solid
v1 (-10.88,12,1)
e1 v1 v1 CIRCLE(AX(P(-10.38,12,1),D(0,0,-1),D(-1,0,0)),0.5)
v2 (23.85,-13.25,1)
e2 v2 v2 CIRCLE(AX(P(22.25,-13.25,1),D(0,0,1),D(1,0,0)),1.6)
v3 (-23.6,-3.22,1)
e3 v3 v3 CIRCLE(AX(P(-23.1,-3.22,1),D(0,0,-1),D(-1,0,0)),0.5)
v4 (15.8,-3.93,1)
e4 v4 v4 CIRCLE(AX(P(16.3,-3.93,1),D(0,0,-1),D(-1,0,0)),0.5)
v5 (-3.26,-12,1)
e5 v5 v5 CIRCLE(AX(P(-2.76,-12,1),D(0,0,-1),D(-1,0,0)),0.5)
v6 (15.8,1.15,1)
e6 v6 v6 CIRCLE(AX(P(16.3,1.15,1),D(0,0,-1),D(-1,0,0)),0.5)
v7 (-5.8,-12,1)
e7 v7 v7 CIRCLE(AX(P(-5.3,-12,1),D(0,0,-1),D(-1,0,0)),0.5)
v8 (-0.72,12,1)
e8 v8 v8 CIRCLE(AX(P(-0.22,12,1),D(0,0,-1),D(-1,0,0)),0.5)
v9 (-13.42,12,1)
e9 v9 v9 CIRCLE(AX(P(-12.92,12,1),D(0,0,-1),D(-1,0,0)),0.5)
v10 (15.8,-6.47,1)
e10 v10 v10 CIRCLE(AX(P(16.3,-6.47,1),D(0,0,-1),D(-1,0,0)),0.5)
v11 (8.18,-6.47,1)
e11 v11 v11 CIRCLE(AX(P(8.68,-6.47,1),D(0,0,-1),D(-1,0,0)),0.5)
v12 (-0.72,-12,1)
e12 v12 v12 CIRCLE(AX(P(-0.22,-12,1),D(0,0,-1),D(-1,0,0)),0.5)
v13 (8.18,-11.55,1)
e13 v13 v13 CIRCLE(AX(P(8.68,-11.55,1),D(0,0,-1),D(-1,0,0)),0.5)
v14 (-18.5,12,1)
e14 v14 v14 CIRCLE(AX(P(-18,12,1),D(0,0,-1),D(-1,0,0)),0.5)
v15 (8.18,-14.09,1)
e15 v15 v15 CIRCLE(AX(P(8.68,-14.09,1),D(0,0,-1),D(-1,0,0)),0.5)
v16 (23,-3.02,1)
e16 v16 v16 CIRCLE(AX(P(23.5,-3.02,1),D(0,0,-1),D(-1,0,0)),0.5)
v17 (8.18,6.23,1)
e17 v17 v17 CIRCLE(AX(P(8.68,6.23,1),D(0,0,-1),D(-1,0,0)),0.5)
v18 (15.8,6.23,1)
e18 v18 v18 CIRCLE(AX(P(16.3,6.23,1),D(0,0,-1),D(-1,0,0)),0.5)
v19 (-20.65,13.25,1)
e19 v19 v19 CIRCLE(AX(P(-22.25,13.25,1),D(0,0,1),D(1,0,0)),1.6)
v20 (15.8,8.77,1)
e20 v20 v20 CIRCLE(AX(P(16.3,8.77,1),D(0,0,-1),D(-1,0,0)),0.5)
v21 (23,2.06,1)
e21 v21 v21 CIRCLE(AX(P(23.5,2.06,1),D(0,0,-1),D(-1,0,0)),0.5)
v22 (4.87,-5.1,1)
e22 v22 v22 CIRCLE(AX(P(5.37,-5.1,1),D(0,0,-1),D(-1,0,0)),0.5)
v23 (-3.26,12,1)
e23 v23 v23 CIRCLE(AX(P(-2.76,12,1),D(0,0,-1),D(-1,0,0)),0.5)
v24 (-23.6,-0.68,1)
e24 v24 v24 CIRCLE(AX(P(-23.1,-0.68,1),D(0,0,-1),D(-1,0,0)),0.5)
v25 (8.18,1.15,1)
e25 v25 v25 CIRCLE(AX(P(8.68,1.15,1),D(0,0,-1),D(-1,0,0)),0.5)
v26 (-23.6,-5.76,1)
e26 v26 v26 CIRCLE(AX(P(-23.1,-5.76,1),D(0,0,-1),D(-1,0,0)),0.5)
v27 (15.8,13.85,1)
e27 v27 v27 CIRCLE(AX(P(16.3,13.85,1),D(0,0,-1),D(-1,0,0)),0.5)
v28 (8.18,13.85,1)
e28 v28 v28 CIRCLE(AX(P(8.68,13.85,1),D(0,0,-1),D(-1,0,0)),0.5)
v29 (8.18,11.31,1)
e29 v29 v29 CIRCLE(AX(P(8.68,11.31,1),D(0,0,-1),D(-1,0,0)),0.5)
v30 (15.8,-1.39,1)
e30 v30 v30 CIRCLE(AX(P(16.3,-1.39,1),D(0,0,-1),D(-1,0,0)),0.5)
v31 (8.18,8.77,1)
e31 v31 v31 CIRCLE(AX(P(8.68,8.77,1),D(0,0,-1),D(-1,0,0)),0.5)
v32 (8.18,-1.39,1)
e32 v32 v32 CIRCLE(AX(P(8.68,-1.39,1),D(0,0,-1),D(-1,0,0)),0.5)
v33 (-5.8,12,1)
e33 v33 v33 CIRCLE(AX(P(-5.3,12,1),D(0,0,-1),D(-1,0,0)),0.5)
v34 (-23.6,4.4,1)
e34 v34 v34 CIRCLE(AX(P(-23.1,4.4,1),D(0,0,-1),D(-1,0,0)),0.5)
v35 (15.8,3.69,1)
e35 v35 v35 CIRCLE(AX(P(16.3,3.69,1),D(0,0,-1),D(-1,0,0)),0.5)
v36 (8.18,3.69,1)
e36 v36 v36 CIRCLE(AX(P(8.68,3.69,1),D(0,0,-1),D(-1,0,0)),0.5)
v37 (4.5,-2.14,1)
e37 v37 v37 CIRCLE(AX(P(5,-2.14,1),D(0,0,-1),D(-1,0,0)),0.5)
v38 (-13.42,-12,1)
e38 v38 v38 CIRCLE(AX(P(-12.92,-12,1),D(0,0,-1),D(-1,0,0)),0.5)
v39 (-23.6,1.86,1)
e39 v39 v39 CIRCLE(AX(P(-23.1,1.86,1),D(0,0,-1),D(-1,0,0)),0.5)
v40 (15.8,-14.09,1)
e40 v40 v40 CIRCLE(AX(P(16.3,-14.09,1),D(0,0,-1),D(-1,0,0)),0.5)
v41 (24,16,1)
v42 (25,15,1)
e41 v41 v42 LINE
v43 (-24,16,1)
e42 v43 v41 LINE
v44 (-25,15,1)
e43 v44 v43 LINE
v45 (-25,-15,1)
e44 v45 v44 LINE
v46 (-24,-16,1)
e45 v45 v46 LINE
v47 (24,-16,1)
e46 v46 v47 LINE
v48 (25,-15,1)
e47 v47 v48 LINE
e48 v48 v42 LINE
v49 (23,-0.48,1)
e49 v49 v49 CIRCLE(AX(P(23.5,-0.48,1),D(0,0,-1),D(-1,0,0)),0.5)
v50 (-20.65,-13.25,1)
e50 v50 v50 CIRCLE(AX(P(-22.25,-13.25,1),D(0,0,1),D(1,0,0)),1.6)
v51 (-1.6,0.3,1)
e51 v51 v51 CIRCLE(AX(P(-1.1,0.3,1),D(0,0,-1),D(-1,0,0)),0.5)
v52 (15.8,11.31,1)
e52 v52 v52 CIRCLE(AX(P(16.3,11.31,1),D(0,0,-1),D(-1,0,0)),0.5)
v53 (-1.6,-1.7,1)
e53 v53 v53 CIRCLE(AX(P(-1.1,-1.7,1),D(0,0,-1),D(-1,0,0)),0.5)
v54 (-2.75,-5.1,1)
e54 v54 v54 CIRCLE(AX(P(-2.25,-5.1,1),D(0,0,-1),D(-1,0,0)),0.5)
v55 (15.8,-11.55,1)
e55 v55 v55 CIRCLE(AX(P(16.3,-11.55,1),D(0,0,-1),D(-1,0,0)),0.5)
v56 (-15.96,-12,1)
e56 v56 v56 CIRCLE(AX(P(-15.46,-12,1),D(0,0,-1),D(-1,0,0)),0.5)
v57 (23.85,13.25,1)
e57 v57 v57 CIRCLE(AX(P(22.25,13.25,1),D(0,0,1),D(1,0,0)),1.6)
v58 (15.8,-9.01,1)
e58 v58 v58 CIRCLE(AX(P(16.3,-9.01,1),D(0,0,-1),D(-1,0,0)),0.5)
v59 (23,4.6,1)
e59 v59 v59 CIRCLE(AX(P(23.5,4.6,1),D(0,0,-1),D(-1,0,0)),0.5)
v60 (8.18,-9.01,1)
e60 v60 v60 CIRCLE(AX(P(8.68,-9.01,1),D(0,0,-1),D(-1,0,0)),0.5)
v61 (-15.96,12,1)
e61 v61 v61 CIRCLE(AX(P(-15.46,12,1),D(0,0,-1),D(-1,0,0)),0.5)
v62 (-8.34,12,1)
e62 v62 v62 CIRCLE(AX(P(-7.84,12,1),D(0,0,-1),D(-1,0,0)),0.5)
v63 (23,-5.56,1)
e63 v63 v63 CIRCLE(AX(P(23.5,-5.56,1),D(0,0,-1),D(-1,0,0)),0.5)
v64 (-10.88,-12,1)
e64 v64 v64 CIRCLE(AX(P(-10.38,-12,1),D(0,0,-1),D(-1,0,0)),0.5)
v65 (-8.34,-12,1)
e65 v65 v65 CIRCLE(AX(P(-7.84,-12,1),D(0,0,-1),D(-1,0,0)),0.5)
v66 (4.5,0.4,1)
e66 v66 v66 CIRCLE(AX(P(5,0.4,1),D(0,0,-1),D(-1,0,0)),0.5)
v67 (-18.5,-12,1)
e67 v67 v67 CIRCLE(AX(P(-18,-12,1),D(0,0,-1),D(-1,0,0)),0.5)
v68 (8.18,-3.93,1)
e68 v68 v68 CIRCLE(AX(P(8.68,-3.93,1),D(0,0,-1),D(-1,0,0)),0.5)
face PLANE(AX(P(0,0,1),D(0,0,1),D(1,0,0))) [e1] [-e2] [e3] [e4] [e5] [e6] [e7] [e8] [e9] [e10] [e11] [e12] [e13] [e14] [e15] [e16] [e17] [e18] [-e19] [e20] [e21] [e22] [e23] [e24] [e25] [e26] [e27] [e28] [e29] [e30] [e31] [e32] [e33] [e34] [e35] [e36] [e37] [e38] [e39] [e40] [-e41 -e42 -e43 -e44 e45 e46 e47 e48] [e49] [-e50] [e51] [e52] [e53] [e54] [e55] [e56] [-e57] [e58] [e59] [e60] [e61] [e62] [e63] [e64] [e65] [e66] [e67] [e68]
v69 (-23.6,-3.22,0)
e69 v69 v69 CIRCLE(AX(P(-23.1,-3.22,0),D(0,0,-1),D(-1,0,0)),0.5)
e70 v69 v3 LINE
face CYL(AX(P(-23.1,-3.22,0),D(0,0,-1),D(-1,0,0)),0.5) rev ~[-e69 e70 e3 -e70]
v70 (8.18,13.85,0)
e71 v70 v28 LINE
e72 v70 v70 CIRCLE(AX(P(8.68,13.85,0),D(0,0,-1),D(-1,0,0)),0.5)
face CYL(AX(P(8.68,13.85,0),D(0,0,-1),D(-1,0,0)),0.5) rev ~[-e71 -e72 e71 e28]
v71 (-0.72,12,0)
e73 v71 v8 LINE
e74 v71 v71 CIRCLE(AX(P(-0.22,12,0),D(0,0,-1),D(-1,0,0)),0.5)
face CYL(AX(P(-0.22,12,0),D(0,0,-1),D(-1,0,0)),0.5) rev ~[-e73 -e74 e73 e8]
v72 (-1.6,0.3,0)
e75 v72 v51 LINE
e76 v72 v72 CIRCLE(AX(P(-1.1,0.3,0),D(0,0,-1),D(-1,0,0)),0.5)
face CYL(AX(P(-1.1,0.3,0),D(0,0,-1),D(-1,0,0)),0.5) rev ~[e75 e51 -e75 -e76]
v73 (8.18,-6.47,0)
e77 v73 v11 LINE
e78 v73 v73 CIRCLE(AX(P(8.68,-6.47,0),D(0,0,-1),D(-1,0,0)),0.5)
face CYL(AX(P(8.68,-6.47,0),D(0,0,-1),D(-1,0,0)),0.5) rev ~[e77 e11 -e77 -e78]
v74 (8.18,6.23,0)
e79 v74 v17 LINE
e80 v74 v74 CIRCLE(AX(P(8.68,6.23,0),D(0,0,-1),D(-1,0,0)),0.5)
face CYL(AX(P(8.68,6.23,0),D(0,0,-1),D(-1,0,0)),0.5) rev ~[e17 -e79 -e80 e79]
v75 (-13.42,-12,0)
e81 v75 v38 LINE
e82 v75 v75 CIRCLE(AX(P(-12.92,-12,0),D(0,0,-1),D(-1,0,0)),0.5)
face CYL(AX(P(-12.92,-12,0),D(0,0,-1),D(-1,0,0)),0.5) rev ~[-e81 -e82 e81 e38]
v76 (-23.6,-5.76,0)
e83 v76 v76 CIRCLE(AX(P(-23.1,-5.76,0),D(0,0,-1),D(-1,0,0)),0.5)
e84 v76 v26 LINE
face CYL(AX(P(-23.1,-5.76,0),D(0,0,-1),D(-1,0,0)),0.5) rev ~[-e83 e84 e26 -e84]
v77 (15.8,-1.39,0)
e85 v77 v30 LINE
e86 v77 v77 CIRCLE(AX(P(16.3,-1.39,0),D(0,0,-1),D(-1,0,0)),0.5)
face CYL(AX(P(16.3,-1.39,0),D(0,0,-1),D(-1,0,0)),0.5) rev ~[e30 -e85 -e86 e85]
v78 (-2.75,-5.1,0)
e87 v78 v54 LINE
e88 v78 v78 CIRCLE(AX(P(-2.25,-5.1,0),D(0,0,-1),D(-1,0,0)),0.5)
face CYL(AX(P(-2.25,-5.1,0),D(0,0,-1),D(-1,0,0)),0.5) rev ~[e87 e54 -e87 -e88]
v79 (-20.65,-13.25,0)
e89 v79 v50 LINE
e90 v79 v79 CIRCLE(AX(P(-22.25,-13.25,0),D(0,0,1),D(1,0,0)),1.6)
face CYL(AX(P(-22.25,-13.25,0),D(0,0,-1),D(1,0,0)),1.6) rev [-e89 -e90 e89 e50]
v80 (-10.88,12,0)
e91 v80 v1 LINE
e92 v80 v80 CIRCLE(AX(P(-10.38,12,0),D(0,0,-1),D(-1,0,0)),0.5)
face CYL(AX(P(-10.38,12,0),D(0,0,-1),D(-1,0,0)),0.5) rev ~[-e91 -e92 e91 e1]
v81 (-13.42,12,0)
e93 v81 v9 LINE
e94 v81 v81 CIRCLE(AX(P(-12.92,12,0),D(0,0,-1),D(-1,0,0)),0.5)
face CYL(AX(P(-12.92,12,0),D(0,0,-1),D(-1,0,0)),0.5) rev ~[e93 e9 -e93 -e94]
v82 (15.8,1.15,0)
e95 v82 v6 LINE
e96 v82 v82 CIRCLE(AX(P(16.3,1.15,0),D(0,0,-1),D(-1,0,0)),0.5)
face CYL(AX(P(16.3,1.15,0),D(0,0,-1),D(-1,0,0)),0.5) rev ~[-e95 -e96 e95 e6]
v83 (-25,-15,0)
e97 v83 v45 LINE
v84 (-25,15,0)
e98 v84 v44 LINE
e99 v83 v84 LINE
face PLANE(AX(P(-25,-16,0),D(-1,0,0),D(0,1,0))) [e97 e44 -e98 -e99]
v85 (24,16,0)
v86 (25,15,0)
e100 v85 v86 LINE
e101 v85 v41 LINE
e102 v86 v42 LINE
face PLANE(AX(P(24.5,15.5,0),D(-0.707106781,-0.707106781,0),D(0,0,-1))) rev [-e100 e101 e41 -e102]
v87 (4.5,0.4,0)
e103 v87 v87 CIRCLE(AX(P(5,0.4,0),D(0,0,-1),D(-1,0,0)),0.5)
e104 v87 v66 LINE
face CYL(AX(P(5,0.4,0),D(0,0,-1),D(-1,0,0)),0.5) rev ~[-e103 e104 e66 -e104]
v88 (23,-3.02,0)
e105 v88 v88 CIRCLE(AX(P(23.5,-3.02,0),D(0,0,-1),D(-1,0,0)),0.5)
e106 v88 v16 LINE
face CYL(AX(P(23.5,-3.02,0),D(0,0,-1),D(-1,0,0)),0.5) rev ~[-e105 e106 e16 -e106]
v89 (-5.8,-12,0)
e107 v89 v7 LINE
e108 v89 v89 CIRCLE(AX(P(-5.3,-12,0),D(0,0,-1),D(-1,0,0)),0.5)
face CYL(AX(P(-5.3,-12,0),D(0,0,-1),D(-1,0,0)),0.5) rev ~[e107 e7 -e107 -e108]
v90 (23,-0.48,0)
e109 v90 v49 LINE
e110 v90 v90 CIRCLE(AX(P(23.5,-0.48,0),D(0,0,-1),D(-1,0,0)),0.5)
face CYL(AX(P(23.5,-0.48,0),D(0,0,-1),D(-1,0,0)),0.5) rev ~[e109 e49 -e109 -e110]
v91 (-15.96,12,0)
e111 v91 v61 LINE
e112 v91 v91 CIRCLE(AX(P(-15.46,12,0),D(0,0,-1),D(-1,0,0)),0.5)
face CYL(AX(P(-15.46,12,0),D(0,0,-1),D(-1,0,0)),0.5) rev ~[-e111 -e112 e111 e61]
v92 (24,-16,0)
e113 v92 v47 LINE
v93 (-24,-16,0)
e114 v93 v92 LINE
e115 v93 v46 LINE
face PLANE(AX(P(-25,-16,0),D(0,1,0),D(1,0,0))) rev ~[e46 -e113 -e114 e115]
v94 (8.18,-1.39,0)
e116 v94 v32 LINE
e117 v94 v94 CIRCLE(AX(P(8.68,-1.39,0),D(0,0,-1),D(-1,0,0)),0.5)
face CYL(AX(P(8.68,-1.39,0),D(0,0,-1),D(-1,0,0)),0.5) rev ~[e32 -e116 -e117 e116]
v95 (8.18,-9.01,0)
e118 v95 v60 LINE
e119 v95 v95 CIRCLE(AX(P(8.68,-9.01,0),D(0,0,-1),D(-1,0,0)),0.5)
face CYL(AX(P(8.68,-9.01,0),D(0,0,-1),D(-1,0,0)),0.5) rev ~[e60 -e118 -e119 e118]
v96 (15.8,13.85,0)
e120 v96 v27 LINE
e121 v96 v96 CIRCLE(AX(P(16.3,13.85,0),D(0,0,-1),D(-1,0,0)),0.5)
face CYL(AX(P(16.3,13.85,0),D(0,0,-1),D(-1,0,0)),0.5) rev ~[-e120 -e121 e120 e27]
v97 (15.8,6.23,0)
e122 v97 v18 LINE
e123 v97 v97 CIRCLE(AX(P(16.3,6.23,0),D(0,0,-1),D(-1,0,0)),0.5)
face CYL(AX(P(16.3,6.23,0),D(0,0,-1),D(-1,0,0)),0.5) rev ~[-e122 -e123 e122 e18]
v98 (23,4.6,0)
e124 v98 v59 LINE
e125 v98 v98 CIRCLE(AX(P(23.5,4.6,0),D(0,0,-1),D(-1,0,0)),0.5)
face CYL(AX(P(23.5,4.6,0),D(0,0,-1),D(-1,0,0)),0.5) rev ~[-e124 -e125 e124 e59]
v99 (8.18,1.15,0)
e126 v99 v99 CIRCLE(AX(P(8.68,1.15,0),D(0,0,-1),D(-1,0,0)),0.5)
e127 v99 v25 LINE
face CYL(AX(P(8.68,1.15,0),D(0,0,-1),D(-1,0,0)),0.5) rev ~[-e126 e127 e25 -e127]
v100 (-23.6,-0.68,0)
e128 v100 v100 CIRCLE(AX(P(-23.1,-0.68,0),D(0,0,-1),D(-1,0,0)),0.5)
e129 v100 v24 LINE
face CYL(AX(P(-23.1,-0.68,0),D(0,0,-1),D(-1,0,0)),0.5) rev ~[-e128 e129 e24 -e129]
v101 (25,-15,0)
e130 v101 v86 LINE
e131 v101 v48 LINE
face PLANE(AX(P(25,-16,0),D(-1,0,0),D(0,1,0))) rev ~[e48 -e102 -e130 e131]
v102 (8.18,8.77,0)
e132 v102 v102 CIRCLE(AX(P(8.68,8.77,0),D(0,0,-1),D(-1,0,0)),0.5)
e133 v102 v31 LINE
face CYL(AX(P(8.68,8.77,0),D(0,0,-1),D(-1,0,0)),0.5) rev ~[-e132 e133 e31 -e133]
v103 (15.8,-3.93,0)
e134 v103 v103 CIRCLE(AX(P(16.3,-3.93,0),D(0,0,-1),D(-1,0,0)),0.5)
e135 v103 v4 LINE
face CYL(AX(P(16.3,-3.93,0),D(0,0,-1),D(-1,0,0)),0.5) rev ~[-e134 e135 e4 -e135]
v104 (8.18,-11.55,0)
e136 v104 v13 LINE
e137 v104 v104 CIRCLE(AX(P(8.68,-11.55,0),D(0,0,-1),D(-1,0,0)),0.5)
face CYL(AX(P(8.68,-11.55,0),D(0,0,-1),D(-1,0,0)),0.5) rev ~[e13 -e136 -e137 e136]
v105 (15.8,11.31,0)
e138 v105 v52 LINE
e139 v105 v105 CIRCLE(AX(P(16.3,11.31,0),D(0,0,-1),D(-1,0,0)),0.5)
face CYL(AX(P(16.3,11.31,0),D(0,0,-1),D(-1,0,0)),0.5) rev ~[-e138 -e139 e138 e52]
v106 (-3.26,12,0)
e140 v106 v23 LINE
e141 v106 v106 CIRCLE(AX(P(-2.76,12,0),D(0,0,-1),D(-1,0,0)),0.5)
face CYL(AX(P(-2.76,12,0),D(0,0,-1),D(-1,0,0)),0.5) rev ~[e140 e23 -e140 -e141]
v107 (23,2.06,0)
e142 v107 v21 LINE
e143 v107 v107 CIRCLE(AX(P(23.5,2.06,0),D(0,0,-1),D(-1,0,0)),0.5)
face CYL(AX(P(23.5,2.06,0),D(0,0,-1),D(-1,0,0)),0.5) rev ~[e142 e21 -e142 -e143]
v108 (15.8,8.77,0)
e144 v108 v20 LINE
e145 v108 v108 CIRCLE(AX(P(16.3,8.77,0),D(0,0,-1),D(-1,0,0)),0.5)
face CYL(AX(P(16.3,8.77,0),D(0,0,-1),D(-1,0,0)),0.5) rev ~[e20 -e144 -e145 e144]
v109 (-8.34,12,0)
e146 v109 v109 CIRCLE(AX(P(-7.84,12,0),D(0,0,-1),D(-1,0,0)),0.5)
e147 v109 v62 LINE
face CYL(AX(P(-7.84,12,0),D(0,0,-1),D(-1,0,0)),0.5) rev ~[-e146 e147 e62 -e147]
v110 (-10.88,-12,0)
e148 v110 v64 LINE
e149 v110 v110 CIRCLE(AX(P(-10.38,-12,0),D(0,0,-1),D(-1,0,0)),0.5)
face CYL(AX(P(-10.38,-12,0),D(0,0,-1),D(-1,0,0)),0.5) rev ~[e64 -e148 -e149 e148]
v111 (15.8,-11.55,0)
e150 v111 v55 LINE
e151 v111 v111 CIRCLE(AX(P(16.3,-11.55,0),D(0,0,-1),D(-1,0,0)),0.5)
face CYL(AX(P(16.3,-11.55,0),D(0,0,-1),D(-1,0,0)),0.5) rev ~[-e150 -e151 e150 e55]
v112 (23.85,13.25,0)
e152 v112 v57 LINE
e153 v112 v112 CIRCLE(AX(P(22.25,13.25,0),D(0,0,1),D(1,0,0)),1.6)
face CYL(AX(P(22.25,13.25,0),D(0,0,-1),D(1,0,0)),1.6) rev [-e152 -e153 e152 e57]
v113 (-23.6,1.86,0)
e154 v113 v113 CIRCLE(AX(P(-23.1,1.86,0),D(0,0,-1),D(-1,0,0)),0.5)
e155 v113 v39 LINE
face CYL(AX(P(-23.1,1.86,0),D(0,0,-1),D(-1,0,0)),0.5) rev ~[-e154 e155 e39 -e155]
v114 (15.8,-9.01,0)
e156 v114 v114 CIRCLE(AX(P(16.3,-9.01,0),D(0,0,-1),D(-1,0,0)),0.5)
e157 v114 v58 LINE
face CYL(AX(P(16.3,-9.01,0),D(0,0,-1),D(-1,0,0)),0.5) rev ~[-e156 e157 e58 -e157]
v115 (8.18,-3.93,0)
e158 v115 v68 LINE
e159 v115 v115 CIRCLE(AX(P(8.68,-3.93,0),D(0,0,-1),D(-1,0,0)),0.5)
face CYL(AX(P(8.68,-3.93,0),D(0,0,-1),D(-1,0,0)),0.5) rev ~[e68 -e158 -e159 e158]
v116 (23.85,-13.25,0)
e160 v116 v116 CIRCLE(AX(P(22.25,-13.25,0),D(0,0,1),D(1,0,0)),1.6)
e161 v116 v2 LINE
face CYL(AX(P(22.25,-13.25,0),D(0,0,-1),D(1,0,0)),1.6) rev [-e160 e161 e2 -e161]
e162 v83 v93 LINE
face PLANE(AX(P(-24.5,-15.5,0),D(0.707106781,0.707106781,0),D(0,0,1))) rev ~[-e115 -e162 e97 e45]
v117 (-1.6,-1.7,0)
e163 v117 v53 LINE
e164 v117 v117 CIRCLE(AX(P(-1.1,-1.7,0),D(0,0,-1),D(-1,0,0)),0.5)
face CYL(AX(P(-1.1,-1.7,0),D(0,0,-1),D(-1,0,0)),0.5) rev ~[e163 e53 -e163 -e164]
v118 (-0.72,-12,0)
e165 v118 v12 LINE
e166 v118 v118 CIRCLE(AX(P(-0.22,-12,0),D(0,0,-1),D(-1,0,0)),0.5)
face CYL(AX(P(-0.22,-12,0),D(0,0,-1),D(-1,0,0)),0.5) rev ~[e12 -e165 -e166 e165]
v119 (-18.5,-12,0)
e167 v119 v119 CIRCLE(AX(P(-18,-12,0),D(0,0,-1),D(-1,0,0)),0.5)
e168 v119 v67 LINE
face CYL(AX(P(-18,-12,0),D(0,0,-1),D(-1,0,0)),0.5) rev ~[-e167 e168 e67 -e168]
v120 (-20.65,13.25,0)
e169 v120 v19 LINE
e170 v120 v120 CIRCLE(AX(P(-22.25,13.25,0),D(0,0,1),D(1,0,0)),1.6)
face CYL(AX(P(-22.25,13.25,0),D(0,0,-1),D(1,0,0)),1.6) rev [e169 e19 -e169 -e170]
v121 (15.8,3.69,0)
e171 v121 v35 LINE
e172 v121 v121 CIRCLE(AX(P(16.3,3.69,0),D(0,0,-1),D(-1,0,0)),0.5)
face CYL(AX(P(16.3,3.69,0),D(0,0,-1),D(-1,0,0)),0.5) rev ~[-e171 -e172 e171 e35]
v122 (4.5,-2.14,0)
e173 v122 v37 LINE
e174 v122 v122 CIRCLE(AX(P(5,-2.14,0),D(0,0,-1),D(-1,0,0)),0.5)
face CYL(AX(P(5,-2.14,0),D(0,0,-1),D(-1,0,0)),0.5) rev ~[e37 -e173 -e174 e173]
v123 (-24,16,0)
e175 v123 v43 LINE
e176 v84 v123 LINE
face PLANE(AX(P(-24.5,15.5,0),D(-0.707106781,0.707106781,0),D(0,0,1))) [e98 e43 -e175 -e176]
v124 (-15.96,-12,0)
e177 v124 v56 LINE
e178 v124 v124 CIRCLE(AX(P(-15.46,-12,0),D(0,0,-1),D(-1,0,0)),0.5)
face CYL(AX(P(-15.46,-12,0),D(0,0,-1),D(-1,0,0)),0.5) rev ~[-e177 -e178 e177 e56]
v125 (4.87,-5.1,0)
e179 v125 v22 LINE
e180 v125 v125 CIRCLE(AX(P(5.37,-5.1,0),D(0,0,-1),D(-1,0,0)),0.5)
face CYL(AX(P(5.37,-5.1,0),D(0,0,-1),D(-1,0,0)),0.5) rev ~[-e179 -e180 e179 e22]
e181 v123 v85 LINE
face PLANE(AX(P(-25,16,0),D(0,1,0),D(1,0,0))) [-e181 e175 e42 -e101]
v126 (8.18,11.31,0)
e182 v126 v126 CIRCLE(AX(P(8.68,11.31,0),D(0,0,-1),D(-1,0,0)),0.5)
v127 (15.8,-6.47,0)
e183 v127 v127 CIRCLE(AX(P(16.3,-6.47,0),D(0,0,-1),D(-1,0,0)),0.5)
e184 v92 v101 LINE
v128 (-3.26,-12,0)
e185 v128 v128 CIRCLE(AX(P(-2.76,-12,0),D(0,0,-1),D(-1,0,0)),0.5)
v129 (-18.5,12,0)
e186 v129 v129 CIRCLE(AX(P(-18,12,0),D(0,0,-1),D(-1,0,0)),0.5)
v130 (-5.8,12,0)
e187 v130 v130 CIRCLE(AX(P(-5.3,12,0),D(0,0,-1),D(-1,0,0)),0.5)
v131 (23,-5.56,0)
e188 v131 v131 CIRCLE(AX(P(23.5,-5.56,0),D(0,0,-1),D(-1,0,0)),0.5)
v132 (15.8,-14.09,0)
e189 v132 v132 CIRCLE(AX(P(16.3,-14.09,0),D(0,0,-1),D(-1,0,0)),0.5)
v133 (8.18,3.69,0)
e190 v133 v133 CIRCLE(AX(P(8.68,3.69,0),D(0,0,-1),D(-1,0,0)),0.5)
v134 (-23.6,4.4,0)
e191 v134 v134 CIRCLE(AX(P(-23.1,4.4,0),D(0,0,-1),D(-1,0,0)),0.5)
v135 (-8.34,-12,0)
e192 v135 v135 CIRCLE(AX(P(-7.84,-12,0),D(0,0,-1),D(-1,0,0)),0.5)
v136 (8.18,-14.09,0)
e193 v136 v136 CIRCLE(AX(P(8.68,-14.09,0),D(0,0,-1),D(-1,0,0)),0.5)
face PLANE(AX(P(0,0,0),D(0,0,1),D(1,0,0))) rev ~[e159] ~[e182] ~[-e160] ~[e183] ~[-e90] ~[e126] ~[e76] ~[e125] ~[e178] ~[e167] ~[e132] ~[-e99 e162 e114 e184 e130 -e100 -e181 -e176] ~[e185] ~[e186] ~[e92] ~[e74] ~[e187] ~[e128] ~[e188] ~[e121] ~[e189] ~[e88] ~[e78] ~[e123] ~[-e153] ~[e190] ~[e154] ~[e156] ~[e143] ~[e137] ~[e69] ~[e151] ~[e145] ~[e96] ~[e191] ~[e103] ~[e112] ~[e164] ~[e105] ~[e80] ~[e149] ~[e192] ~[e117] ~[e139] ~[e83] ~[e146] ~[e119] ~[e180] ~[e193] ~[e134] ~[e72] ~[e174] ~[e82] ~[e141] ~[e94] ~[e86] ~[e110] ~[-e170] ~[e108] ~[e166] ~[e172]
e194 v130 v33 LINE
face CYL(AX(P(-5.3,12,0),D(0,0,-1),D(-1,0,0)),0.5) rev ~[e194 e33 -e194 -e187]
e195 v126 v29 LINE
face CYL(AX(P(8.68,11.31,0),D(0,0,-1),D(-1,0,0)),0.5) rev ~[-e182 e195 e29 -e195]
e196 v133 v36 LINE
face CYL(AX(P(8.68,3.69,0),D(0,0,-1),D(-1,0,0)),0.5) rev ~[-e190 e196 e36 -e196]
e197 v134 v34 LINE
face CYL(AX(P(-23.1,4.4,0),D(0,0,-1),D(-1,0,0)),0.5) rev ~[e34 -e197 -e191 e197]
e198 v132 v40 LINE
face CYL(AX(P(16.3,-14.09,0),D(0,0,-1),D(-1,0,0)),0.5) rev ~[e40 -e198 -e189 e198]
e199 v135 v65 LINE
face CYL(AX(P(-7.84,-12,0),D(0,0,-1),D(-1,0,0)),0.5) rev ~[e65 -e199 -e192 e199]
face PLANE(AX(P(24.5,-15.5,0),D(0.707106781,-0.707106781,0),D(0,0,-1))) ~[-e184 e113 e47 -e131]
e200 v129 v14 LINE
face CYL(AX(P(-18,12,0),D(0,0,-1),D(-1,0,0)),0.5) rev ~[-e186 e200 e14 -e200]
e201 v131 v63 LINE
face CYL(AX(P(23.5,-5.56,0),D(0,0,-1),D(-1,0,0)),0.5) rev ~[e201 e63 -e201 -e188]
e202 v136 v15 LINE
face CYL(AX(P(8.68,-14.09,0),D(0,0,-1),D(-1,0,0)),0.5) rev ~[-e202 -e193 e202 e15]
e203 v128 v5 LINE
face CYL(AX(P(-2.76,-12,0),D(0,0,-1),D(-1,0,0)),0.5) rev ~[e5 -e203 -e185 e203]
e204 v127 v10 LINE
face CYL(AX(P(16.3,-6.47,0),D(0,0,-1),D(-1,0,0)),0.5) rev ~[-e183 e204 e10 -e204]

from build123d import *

# Parameters (mm, degrees)
SKETCH1_W           = 50
SKETCH1_H           = 32
SKETCH1_R           = 1.6
BOSS_EXTRUDE1_DEPTH = 1
SKETCH3_R           = 0.5
CUT_EXTRUDE1_DEPTH  = 1
CHAMFER1_SIZE       = 1


with BuildPart() as part:
    # Sketch1 → Boss-Extrude1 (new body)
    with BuildSketch(Plane.XY):
        Rectangle(SKETCH1_W, SKETCH1_H)
        with Locations((-22.25, -13.25)):
            Circle(SKETCH1_R, mode=Mode.SUBTRACT)
        with Locations((22.25, -13.25)):
            Circle(SKETCH1_R, mode=Mode.SUBTRACT)
        with Locations((22.25, 13.25)):
            Circle(SKETCH1_R, mode=Mode.SUBTRACT)
        with Locations((-22.25, 13.25)):
            Circle(SKETCH1_R, mode=Mode.SUBTRACT)
    extrude(amount=BOSS_EXTRUDE1_DEPTH)

    # Sketch3 → Cut-Extrude1 (cut)
    with BuildSketch(Plane(origin=(0, 0, 0), x_dir=(-1, 0, 0), z_dir=(0, 0, -1))):
        with Locations((-23.5, 4.6)):
            Circle(SKETCH3_R)
        with Locations((-23.5, 2.06)):
            Circle(SKETCH3_R)
        with Locations((-23.5, -0.48)):
            Circle(SKETCH3_R)
        with Locations((-23.5, -3.02)):
            Circle(SKETCH3_R)
        with Locations((-23.5, -5.56)):
            Circle(SKETCH3_R)
        with Locations((-16.3, 13.85)):
            Circle(SKETCH3_R)
        with Locations((-16.3, 11.31)):
            Circle(SKETCH3_R)
        with Locations((-16.3, 8.77)):
            Circle(SKETCH3_R)
        with Locations((-16.3, 6.23)):
            Circle(SKETCH3_R)
        with Locations((-16.3, 3.69)):
            Circle(SKETCH3_R)
        with Locations((-16.3, 1.15)):
            Circle(SKETCH3_R)
        with Locations((-16.3, -1.39)):
            Circle(SKETCH3_R)
        with Locations((-16.3, -3.93)):
            Circle(SKETCH3_R)
        with Locations((-16.3, -6.47)):
            Circle(SKETCH3_R)
        with Locations((-16.3, -9.01)):
            Circle(SKETCH3_R)
        with Locations((-16.3, -11.55)):
            Circle(SKETCH3_R)
        with Locations((-16.3, -14.09)):
            Circle(SKETCH3_R)
        with Locations((-8.68, 13.85)):
            Circle(SKETCH3_R)
        with Locations((-8.68, 11.31)):
            Circle(SKETCH3_R)
        with Locations((-8.68, 8.77)):
            Circle(SKETCH3_R)
        with Locations((-8.68, 6.23)):
            Circle(SKETCH3_R)
        with Locations((-8.68, 3.69)):
            Circle(SKETCH3_R)
        with Locations((-8.68, 1.15)):
            Circle(SKETCH3_R)
        with Locations((-8.68, -1.39)):
            Circle(SKETCH3_R)
        with Locations((-8.68, -3.93)):
            Circle(SKETCH3_R)
        with Locations((-8.68, -6.47)):
            Circle(SKETCH3_R)
        with Locations((-8.68, -9.01)):
            Circle(SKETCH3_R)
        with Locations((-8.68, -11.55)):
            Circle(SKETCH3_R)
        with Locations((-8.68, -14.09)):
            Circle(SKETCH3_R)
        with Locations((18, 12)):
            Circle(SKETCH3_R)
        with Locations((15.46, 12)):
            Circle(SKETCH3_R)
        with Locations((12.92, 12)):
            Circle(SKETCH3_R)
        with Locations((10.38, 12)):
            Circle(SKETCH3_R)
        with Locations((7.84, 12)):
            Circle(SKETCH3_R)
        with Locations((5.3, 12)):
            Circle(SKETCH3_R)
        with Locations((2.76, 12)):
            Circle(SKETCH3_R)
        with Locations((0.22, 12)):
            Circle(SKETCH3_R)
        with Locations((18, -12)):
            Circle(SKETCH3_R)
        with Locations((15.46, -12)):
            Circle(SKETCH3_R)
        with Locations((12.92, -12)):
            Circle(SKETCH3_R)
        with Locations((10.38, -12)):
            Circle(SKETCH3_R)
        with Locations((7.84, -12)):
            Circle(SKETCH3_R)
        with Locations((5.3, -12)):
            Circle(SKETCH3_R)
        with Locations((2.76, -12)):
            Circle(SKETCH3_R)
        with Locations((0.22, -12)):
            Circle(SKETCH3_R)
        with Locations((23.1, 4.4)):
            Circle(SKETCH3_R)
        with Locations((23.1, 1.86)):
            Circle(SKETCH3_R)
        with Locations((23.1, -0.68)):
            Circle(SKETCH3_R)
        with Locations((23.1, -3.22)):
            Circle(SKETCH3_R)
        with Locations((23.1, -5.76)):
            Circle(SKETCH3_R)
        with Locations((-5, 0.4)):
            Circle(SKETCH3_R)
        with Locations((-5, -2.14)):
            Circle(SKETCH3_R)
        with Locations((-5.37, -5.1)):
            Circle(SKETCH3_R)
        with Locations((2.25, -5.1)):
            Circle(SKETCH3_R)
        with Locations((1.1, 0.3)):
            Circle(SKETCH3_R)
        with Locations((1.1, -1.7)):
            Circle(SKETCH3_R)
    extrude(amount=-CUT_EXTRUDE1_DEPTH, mode=Mode.SUBTRACT)

    # Chamfer1
    chamfer1_edges = [part.edges().sort_by_distance(p)[0] for p in [
        (-25, 16, 0.5),
        (25, 16, 0.5),
        (25, -16, 0.5),
        (-25, -16, 0.5),
    ]]
    chamfer(chamfer1_edges, length=CHAMFER1_SIZE)


solid = part.part
